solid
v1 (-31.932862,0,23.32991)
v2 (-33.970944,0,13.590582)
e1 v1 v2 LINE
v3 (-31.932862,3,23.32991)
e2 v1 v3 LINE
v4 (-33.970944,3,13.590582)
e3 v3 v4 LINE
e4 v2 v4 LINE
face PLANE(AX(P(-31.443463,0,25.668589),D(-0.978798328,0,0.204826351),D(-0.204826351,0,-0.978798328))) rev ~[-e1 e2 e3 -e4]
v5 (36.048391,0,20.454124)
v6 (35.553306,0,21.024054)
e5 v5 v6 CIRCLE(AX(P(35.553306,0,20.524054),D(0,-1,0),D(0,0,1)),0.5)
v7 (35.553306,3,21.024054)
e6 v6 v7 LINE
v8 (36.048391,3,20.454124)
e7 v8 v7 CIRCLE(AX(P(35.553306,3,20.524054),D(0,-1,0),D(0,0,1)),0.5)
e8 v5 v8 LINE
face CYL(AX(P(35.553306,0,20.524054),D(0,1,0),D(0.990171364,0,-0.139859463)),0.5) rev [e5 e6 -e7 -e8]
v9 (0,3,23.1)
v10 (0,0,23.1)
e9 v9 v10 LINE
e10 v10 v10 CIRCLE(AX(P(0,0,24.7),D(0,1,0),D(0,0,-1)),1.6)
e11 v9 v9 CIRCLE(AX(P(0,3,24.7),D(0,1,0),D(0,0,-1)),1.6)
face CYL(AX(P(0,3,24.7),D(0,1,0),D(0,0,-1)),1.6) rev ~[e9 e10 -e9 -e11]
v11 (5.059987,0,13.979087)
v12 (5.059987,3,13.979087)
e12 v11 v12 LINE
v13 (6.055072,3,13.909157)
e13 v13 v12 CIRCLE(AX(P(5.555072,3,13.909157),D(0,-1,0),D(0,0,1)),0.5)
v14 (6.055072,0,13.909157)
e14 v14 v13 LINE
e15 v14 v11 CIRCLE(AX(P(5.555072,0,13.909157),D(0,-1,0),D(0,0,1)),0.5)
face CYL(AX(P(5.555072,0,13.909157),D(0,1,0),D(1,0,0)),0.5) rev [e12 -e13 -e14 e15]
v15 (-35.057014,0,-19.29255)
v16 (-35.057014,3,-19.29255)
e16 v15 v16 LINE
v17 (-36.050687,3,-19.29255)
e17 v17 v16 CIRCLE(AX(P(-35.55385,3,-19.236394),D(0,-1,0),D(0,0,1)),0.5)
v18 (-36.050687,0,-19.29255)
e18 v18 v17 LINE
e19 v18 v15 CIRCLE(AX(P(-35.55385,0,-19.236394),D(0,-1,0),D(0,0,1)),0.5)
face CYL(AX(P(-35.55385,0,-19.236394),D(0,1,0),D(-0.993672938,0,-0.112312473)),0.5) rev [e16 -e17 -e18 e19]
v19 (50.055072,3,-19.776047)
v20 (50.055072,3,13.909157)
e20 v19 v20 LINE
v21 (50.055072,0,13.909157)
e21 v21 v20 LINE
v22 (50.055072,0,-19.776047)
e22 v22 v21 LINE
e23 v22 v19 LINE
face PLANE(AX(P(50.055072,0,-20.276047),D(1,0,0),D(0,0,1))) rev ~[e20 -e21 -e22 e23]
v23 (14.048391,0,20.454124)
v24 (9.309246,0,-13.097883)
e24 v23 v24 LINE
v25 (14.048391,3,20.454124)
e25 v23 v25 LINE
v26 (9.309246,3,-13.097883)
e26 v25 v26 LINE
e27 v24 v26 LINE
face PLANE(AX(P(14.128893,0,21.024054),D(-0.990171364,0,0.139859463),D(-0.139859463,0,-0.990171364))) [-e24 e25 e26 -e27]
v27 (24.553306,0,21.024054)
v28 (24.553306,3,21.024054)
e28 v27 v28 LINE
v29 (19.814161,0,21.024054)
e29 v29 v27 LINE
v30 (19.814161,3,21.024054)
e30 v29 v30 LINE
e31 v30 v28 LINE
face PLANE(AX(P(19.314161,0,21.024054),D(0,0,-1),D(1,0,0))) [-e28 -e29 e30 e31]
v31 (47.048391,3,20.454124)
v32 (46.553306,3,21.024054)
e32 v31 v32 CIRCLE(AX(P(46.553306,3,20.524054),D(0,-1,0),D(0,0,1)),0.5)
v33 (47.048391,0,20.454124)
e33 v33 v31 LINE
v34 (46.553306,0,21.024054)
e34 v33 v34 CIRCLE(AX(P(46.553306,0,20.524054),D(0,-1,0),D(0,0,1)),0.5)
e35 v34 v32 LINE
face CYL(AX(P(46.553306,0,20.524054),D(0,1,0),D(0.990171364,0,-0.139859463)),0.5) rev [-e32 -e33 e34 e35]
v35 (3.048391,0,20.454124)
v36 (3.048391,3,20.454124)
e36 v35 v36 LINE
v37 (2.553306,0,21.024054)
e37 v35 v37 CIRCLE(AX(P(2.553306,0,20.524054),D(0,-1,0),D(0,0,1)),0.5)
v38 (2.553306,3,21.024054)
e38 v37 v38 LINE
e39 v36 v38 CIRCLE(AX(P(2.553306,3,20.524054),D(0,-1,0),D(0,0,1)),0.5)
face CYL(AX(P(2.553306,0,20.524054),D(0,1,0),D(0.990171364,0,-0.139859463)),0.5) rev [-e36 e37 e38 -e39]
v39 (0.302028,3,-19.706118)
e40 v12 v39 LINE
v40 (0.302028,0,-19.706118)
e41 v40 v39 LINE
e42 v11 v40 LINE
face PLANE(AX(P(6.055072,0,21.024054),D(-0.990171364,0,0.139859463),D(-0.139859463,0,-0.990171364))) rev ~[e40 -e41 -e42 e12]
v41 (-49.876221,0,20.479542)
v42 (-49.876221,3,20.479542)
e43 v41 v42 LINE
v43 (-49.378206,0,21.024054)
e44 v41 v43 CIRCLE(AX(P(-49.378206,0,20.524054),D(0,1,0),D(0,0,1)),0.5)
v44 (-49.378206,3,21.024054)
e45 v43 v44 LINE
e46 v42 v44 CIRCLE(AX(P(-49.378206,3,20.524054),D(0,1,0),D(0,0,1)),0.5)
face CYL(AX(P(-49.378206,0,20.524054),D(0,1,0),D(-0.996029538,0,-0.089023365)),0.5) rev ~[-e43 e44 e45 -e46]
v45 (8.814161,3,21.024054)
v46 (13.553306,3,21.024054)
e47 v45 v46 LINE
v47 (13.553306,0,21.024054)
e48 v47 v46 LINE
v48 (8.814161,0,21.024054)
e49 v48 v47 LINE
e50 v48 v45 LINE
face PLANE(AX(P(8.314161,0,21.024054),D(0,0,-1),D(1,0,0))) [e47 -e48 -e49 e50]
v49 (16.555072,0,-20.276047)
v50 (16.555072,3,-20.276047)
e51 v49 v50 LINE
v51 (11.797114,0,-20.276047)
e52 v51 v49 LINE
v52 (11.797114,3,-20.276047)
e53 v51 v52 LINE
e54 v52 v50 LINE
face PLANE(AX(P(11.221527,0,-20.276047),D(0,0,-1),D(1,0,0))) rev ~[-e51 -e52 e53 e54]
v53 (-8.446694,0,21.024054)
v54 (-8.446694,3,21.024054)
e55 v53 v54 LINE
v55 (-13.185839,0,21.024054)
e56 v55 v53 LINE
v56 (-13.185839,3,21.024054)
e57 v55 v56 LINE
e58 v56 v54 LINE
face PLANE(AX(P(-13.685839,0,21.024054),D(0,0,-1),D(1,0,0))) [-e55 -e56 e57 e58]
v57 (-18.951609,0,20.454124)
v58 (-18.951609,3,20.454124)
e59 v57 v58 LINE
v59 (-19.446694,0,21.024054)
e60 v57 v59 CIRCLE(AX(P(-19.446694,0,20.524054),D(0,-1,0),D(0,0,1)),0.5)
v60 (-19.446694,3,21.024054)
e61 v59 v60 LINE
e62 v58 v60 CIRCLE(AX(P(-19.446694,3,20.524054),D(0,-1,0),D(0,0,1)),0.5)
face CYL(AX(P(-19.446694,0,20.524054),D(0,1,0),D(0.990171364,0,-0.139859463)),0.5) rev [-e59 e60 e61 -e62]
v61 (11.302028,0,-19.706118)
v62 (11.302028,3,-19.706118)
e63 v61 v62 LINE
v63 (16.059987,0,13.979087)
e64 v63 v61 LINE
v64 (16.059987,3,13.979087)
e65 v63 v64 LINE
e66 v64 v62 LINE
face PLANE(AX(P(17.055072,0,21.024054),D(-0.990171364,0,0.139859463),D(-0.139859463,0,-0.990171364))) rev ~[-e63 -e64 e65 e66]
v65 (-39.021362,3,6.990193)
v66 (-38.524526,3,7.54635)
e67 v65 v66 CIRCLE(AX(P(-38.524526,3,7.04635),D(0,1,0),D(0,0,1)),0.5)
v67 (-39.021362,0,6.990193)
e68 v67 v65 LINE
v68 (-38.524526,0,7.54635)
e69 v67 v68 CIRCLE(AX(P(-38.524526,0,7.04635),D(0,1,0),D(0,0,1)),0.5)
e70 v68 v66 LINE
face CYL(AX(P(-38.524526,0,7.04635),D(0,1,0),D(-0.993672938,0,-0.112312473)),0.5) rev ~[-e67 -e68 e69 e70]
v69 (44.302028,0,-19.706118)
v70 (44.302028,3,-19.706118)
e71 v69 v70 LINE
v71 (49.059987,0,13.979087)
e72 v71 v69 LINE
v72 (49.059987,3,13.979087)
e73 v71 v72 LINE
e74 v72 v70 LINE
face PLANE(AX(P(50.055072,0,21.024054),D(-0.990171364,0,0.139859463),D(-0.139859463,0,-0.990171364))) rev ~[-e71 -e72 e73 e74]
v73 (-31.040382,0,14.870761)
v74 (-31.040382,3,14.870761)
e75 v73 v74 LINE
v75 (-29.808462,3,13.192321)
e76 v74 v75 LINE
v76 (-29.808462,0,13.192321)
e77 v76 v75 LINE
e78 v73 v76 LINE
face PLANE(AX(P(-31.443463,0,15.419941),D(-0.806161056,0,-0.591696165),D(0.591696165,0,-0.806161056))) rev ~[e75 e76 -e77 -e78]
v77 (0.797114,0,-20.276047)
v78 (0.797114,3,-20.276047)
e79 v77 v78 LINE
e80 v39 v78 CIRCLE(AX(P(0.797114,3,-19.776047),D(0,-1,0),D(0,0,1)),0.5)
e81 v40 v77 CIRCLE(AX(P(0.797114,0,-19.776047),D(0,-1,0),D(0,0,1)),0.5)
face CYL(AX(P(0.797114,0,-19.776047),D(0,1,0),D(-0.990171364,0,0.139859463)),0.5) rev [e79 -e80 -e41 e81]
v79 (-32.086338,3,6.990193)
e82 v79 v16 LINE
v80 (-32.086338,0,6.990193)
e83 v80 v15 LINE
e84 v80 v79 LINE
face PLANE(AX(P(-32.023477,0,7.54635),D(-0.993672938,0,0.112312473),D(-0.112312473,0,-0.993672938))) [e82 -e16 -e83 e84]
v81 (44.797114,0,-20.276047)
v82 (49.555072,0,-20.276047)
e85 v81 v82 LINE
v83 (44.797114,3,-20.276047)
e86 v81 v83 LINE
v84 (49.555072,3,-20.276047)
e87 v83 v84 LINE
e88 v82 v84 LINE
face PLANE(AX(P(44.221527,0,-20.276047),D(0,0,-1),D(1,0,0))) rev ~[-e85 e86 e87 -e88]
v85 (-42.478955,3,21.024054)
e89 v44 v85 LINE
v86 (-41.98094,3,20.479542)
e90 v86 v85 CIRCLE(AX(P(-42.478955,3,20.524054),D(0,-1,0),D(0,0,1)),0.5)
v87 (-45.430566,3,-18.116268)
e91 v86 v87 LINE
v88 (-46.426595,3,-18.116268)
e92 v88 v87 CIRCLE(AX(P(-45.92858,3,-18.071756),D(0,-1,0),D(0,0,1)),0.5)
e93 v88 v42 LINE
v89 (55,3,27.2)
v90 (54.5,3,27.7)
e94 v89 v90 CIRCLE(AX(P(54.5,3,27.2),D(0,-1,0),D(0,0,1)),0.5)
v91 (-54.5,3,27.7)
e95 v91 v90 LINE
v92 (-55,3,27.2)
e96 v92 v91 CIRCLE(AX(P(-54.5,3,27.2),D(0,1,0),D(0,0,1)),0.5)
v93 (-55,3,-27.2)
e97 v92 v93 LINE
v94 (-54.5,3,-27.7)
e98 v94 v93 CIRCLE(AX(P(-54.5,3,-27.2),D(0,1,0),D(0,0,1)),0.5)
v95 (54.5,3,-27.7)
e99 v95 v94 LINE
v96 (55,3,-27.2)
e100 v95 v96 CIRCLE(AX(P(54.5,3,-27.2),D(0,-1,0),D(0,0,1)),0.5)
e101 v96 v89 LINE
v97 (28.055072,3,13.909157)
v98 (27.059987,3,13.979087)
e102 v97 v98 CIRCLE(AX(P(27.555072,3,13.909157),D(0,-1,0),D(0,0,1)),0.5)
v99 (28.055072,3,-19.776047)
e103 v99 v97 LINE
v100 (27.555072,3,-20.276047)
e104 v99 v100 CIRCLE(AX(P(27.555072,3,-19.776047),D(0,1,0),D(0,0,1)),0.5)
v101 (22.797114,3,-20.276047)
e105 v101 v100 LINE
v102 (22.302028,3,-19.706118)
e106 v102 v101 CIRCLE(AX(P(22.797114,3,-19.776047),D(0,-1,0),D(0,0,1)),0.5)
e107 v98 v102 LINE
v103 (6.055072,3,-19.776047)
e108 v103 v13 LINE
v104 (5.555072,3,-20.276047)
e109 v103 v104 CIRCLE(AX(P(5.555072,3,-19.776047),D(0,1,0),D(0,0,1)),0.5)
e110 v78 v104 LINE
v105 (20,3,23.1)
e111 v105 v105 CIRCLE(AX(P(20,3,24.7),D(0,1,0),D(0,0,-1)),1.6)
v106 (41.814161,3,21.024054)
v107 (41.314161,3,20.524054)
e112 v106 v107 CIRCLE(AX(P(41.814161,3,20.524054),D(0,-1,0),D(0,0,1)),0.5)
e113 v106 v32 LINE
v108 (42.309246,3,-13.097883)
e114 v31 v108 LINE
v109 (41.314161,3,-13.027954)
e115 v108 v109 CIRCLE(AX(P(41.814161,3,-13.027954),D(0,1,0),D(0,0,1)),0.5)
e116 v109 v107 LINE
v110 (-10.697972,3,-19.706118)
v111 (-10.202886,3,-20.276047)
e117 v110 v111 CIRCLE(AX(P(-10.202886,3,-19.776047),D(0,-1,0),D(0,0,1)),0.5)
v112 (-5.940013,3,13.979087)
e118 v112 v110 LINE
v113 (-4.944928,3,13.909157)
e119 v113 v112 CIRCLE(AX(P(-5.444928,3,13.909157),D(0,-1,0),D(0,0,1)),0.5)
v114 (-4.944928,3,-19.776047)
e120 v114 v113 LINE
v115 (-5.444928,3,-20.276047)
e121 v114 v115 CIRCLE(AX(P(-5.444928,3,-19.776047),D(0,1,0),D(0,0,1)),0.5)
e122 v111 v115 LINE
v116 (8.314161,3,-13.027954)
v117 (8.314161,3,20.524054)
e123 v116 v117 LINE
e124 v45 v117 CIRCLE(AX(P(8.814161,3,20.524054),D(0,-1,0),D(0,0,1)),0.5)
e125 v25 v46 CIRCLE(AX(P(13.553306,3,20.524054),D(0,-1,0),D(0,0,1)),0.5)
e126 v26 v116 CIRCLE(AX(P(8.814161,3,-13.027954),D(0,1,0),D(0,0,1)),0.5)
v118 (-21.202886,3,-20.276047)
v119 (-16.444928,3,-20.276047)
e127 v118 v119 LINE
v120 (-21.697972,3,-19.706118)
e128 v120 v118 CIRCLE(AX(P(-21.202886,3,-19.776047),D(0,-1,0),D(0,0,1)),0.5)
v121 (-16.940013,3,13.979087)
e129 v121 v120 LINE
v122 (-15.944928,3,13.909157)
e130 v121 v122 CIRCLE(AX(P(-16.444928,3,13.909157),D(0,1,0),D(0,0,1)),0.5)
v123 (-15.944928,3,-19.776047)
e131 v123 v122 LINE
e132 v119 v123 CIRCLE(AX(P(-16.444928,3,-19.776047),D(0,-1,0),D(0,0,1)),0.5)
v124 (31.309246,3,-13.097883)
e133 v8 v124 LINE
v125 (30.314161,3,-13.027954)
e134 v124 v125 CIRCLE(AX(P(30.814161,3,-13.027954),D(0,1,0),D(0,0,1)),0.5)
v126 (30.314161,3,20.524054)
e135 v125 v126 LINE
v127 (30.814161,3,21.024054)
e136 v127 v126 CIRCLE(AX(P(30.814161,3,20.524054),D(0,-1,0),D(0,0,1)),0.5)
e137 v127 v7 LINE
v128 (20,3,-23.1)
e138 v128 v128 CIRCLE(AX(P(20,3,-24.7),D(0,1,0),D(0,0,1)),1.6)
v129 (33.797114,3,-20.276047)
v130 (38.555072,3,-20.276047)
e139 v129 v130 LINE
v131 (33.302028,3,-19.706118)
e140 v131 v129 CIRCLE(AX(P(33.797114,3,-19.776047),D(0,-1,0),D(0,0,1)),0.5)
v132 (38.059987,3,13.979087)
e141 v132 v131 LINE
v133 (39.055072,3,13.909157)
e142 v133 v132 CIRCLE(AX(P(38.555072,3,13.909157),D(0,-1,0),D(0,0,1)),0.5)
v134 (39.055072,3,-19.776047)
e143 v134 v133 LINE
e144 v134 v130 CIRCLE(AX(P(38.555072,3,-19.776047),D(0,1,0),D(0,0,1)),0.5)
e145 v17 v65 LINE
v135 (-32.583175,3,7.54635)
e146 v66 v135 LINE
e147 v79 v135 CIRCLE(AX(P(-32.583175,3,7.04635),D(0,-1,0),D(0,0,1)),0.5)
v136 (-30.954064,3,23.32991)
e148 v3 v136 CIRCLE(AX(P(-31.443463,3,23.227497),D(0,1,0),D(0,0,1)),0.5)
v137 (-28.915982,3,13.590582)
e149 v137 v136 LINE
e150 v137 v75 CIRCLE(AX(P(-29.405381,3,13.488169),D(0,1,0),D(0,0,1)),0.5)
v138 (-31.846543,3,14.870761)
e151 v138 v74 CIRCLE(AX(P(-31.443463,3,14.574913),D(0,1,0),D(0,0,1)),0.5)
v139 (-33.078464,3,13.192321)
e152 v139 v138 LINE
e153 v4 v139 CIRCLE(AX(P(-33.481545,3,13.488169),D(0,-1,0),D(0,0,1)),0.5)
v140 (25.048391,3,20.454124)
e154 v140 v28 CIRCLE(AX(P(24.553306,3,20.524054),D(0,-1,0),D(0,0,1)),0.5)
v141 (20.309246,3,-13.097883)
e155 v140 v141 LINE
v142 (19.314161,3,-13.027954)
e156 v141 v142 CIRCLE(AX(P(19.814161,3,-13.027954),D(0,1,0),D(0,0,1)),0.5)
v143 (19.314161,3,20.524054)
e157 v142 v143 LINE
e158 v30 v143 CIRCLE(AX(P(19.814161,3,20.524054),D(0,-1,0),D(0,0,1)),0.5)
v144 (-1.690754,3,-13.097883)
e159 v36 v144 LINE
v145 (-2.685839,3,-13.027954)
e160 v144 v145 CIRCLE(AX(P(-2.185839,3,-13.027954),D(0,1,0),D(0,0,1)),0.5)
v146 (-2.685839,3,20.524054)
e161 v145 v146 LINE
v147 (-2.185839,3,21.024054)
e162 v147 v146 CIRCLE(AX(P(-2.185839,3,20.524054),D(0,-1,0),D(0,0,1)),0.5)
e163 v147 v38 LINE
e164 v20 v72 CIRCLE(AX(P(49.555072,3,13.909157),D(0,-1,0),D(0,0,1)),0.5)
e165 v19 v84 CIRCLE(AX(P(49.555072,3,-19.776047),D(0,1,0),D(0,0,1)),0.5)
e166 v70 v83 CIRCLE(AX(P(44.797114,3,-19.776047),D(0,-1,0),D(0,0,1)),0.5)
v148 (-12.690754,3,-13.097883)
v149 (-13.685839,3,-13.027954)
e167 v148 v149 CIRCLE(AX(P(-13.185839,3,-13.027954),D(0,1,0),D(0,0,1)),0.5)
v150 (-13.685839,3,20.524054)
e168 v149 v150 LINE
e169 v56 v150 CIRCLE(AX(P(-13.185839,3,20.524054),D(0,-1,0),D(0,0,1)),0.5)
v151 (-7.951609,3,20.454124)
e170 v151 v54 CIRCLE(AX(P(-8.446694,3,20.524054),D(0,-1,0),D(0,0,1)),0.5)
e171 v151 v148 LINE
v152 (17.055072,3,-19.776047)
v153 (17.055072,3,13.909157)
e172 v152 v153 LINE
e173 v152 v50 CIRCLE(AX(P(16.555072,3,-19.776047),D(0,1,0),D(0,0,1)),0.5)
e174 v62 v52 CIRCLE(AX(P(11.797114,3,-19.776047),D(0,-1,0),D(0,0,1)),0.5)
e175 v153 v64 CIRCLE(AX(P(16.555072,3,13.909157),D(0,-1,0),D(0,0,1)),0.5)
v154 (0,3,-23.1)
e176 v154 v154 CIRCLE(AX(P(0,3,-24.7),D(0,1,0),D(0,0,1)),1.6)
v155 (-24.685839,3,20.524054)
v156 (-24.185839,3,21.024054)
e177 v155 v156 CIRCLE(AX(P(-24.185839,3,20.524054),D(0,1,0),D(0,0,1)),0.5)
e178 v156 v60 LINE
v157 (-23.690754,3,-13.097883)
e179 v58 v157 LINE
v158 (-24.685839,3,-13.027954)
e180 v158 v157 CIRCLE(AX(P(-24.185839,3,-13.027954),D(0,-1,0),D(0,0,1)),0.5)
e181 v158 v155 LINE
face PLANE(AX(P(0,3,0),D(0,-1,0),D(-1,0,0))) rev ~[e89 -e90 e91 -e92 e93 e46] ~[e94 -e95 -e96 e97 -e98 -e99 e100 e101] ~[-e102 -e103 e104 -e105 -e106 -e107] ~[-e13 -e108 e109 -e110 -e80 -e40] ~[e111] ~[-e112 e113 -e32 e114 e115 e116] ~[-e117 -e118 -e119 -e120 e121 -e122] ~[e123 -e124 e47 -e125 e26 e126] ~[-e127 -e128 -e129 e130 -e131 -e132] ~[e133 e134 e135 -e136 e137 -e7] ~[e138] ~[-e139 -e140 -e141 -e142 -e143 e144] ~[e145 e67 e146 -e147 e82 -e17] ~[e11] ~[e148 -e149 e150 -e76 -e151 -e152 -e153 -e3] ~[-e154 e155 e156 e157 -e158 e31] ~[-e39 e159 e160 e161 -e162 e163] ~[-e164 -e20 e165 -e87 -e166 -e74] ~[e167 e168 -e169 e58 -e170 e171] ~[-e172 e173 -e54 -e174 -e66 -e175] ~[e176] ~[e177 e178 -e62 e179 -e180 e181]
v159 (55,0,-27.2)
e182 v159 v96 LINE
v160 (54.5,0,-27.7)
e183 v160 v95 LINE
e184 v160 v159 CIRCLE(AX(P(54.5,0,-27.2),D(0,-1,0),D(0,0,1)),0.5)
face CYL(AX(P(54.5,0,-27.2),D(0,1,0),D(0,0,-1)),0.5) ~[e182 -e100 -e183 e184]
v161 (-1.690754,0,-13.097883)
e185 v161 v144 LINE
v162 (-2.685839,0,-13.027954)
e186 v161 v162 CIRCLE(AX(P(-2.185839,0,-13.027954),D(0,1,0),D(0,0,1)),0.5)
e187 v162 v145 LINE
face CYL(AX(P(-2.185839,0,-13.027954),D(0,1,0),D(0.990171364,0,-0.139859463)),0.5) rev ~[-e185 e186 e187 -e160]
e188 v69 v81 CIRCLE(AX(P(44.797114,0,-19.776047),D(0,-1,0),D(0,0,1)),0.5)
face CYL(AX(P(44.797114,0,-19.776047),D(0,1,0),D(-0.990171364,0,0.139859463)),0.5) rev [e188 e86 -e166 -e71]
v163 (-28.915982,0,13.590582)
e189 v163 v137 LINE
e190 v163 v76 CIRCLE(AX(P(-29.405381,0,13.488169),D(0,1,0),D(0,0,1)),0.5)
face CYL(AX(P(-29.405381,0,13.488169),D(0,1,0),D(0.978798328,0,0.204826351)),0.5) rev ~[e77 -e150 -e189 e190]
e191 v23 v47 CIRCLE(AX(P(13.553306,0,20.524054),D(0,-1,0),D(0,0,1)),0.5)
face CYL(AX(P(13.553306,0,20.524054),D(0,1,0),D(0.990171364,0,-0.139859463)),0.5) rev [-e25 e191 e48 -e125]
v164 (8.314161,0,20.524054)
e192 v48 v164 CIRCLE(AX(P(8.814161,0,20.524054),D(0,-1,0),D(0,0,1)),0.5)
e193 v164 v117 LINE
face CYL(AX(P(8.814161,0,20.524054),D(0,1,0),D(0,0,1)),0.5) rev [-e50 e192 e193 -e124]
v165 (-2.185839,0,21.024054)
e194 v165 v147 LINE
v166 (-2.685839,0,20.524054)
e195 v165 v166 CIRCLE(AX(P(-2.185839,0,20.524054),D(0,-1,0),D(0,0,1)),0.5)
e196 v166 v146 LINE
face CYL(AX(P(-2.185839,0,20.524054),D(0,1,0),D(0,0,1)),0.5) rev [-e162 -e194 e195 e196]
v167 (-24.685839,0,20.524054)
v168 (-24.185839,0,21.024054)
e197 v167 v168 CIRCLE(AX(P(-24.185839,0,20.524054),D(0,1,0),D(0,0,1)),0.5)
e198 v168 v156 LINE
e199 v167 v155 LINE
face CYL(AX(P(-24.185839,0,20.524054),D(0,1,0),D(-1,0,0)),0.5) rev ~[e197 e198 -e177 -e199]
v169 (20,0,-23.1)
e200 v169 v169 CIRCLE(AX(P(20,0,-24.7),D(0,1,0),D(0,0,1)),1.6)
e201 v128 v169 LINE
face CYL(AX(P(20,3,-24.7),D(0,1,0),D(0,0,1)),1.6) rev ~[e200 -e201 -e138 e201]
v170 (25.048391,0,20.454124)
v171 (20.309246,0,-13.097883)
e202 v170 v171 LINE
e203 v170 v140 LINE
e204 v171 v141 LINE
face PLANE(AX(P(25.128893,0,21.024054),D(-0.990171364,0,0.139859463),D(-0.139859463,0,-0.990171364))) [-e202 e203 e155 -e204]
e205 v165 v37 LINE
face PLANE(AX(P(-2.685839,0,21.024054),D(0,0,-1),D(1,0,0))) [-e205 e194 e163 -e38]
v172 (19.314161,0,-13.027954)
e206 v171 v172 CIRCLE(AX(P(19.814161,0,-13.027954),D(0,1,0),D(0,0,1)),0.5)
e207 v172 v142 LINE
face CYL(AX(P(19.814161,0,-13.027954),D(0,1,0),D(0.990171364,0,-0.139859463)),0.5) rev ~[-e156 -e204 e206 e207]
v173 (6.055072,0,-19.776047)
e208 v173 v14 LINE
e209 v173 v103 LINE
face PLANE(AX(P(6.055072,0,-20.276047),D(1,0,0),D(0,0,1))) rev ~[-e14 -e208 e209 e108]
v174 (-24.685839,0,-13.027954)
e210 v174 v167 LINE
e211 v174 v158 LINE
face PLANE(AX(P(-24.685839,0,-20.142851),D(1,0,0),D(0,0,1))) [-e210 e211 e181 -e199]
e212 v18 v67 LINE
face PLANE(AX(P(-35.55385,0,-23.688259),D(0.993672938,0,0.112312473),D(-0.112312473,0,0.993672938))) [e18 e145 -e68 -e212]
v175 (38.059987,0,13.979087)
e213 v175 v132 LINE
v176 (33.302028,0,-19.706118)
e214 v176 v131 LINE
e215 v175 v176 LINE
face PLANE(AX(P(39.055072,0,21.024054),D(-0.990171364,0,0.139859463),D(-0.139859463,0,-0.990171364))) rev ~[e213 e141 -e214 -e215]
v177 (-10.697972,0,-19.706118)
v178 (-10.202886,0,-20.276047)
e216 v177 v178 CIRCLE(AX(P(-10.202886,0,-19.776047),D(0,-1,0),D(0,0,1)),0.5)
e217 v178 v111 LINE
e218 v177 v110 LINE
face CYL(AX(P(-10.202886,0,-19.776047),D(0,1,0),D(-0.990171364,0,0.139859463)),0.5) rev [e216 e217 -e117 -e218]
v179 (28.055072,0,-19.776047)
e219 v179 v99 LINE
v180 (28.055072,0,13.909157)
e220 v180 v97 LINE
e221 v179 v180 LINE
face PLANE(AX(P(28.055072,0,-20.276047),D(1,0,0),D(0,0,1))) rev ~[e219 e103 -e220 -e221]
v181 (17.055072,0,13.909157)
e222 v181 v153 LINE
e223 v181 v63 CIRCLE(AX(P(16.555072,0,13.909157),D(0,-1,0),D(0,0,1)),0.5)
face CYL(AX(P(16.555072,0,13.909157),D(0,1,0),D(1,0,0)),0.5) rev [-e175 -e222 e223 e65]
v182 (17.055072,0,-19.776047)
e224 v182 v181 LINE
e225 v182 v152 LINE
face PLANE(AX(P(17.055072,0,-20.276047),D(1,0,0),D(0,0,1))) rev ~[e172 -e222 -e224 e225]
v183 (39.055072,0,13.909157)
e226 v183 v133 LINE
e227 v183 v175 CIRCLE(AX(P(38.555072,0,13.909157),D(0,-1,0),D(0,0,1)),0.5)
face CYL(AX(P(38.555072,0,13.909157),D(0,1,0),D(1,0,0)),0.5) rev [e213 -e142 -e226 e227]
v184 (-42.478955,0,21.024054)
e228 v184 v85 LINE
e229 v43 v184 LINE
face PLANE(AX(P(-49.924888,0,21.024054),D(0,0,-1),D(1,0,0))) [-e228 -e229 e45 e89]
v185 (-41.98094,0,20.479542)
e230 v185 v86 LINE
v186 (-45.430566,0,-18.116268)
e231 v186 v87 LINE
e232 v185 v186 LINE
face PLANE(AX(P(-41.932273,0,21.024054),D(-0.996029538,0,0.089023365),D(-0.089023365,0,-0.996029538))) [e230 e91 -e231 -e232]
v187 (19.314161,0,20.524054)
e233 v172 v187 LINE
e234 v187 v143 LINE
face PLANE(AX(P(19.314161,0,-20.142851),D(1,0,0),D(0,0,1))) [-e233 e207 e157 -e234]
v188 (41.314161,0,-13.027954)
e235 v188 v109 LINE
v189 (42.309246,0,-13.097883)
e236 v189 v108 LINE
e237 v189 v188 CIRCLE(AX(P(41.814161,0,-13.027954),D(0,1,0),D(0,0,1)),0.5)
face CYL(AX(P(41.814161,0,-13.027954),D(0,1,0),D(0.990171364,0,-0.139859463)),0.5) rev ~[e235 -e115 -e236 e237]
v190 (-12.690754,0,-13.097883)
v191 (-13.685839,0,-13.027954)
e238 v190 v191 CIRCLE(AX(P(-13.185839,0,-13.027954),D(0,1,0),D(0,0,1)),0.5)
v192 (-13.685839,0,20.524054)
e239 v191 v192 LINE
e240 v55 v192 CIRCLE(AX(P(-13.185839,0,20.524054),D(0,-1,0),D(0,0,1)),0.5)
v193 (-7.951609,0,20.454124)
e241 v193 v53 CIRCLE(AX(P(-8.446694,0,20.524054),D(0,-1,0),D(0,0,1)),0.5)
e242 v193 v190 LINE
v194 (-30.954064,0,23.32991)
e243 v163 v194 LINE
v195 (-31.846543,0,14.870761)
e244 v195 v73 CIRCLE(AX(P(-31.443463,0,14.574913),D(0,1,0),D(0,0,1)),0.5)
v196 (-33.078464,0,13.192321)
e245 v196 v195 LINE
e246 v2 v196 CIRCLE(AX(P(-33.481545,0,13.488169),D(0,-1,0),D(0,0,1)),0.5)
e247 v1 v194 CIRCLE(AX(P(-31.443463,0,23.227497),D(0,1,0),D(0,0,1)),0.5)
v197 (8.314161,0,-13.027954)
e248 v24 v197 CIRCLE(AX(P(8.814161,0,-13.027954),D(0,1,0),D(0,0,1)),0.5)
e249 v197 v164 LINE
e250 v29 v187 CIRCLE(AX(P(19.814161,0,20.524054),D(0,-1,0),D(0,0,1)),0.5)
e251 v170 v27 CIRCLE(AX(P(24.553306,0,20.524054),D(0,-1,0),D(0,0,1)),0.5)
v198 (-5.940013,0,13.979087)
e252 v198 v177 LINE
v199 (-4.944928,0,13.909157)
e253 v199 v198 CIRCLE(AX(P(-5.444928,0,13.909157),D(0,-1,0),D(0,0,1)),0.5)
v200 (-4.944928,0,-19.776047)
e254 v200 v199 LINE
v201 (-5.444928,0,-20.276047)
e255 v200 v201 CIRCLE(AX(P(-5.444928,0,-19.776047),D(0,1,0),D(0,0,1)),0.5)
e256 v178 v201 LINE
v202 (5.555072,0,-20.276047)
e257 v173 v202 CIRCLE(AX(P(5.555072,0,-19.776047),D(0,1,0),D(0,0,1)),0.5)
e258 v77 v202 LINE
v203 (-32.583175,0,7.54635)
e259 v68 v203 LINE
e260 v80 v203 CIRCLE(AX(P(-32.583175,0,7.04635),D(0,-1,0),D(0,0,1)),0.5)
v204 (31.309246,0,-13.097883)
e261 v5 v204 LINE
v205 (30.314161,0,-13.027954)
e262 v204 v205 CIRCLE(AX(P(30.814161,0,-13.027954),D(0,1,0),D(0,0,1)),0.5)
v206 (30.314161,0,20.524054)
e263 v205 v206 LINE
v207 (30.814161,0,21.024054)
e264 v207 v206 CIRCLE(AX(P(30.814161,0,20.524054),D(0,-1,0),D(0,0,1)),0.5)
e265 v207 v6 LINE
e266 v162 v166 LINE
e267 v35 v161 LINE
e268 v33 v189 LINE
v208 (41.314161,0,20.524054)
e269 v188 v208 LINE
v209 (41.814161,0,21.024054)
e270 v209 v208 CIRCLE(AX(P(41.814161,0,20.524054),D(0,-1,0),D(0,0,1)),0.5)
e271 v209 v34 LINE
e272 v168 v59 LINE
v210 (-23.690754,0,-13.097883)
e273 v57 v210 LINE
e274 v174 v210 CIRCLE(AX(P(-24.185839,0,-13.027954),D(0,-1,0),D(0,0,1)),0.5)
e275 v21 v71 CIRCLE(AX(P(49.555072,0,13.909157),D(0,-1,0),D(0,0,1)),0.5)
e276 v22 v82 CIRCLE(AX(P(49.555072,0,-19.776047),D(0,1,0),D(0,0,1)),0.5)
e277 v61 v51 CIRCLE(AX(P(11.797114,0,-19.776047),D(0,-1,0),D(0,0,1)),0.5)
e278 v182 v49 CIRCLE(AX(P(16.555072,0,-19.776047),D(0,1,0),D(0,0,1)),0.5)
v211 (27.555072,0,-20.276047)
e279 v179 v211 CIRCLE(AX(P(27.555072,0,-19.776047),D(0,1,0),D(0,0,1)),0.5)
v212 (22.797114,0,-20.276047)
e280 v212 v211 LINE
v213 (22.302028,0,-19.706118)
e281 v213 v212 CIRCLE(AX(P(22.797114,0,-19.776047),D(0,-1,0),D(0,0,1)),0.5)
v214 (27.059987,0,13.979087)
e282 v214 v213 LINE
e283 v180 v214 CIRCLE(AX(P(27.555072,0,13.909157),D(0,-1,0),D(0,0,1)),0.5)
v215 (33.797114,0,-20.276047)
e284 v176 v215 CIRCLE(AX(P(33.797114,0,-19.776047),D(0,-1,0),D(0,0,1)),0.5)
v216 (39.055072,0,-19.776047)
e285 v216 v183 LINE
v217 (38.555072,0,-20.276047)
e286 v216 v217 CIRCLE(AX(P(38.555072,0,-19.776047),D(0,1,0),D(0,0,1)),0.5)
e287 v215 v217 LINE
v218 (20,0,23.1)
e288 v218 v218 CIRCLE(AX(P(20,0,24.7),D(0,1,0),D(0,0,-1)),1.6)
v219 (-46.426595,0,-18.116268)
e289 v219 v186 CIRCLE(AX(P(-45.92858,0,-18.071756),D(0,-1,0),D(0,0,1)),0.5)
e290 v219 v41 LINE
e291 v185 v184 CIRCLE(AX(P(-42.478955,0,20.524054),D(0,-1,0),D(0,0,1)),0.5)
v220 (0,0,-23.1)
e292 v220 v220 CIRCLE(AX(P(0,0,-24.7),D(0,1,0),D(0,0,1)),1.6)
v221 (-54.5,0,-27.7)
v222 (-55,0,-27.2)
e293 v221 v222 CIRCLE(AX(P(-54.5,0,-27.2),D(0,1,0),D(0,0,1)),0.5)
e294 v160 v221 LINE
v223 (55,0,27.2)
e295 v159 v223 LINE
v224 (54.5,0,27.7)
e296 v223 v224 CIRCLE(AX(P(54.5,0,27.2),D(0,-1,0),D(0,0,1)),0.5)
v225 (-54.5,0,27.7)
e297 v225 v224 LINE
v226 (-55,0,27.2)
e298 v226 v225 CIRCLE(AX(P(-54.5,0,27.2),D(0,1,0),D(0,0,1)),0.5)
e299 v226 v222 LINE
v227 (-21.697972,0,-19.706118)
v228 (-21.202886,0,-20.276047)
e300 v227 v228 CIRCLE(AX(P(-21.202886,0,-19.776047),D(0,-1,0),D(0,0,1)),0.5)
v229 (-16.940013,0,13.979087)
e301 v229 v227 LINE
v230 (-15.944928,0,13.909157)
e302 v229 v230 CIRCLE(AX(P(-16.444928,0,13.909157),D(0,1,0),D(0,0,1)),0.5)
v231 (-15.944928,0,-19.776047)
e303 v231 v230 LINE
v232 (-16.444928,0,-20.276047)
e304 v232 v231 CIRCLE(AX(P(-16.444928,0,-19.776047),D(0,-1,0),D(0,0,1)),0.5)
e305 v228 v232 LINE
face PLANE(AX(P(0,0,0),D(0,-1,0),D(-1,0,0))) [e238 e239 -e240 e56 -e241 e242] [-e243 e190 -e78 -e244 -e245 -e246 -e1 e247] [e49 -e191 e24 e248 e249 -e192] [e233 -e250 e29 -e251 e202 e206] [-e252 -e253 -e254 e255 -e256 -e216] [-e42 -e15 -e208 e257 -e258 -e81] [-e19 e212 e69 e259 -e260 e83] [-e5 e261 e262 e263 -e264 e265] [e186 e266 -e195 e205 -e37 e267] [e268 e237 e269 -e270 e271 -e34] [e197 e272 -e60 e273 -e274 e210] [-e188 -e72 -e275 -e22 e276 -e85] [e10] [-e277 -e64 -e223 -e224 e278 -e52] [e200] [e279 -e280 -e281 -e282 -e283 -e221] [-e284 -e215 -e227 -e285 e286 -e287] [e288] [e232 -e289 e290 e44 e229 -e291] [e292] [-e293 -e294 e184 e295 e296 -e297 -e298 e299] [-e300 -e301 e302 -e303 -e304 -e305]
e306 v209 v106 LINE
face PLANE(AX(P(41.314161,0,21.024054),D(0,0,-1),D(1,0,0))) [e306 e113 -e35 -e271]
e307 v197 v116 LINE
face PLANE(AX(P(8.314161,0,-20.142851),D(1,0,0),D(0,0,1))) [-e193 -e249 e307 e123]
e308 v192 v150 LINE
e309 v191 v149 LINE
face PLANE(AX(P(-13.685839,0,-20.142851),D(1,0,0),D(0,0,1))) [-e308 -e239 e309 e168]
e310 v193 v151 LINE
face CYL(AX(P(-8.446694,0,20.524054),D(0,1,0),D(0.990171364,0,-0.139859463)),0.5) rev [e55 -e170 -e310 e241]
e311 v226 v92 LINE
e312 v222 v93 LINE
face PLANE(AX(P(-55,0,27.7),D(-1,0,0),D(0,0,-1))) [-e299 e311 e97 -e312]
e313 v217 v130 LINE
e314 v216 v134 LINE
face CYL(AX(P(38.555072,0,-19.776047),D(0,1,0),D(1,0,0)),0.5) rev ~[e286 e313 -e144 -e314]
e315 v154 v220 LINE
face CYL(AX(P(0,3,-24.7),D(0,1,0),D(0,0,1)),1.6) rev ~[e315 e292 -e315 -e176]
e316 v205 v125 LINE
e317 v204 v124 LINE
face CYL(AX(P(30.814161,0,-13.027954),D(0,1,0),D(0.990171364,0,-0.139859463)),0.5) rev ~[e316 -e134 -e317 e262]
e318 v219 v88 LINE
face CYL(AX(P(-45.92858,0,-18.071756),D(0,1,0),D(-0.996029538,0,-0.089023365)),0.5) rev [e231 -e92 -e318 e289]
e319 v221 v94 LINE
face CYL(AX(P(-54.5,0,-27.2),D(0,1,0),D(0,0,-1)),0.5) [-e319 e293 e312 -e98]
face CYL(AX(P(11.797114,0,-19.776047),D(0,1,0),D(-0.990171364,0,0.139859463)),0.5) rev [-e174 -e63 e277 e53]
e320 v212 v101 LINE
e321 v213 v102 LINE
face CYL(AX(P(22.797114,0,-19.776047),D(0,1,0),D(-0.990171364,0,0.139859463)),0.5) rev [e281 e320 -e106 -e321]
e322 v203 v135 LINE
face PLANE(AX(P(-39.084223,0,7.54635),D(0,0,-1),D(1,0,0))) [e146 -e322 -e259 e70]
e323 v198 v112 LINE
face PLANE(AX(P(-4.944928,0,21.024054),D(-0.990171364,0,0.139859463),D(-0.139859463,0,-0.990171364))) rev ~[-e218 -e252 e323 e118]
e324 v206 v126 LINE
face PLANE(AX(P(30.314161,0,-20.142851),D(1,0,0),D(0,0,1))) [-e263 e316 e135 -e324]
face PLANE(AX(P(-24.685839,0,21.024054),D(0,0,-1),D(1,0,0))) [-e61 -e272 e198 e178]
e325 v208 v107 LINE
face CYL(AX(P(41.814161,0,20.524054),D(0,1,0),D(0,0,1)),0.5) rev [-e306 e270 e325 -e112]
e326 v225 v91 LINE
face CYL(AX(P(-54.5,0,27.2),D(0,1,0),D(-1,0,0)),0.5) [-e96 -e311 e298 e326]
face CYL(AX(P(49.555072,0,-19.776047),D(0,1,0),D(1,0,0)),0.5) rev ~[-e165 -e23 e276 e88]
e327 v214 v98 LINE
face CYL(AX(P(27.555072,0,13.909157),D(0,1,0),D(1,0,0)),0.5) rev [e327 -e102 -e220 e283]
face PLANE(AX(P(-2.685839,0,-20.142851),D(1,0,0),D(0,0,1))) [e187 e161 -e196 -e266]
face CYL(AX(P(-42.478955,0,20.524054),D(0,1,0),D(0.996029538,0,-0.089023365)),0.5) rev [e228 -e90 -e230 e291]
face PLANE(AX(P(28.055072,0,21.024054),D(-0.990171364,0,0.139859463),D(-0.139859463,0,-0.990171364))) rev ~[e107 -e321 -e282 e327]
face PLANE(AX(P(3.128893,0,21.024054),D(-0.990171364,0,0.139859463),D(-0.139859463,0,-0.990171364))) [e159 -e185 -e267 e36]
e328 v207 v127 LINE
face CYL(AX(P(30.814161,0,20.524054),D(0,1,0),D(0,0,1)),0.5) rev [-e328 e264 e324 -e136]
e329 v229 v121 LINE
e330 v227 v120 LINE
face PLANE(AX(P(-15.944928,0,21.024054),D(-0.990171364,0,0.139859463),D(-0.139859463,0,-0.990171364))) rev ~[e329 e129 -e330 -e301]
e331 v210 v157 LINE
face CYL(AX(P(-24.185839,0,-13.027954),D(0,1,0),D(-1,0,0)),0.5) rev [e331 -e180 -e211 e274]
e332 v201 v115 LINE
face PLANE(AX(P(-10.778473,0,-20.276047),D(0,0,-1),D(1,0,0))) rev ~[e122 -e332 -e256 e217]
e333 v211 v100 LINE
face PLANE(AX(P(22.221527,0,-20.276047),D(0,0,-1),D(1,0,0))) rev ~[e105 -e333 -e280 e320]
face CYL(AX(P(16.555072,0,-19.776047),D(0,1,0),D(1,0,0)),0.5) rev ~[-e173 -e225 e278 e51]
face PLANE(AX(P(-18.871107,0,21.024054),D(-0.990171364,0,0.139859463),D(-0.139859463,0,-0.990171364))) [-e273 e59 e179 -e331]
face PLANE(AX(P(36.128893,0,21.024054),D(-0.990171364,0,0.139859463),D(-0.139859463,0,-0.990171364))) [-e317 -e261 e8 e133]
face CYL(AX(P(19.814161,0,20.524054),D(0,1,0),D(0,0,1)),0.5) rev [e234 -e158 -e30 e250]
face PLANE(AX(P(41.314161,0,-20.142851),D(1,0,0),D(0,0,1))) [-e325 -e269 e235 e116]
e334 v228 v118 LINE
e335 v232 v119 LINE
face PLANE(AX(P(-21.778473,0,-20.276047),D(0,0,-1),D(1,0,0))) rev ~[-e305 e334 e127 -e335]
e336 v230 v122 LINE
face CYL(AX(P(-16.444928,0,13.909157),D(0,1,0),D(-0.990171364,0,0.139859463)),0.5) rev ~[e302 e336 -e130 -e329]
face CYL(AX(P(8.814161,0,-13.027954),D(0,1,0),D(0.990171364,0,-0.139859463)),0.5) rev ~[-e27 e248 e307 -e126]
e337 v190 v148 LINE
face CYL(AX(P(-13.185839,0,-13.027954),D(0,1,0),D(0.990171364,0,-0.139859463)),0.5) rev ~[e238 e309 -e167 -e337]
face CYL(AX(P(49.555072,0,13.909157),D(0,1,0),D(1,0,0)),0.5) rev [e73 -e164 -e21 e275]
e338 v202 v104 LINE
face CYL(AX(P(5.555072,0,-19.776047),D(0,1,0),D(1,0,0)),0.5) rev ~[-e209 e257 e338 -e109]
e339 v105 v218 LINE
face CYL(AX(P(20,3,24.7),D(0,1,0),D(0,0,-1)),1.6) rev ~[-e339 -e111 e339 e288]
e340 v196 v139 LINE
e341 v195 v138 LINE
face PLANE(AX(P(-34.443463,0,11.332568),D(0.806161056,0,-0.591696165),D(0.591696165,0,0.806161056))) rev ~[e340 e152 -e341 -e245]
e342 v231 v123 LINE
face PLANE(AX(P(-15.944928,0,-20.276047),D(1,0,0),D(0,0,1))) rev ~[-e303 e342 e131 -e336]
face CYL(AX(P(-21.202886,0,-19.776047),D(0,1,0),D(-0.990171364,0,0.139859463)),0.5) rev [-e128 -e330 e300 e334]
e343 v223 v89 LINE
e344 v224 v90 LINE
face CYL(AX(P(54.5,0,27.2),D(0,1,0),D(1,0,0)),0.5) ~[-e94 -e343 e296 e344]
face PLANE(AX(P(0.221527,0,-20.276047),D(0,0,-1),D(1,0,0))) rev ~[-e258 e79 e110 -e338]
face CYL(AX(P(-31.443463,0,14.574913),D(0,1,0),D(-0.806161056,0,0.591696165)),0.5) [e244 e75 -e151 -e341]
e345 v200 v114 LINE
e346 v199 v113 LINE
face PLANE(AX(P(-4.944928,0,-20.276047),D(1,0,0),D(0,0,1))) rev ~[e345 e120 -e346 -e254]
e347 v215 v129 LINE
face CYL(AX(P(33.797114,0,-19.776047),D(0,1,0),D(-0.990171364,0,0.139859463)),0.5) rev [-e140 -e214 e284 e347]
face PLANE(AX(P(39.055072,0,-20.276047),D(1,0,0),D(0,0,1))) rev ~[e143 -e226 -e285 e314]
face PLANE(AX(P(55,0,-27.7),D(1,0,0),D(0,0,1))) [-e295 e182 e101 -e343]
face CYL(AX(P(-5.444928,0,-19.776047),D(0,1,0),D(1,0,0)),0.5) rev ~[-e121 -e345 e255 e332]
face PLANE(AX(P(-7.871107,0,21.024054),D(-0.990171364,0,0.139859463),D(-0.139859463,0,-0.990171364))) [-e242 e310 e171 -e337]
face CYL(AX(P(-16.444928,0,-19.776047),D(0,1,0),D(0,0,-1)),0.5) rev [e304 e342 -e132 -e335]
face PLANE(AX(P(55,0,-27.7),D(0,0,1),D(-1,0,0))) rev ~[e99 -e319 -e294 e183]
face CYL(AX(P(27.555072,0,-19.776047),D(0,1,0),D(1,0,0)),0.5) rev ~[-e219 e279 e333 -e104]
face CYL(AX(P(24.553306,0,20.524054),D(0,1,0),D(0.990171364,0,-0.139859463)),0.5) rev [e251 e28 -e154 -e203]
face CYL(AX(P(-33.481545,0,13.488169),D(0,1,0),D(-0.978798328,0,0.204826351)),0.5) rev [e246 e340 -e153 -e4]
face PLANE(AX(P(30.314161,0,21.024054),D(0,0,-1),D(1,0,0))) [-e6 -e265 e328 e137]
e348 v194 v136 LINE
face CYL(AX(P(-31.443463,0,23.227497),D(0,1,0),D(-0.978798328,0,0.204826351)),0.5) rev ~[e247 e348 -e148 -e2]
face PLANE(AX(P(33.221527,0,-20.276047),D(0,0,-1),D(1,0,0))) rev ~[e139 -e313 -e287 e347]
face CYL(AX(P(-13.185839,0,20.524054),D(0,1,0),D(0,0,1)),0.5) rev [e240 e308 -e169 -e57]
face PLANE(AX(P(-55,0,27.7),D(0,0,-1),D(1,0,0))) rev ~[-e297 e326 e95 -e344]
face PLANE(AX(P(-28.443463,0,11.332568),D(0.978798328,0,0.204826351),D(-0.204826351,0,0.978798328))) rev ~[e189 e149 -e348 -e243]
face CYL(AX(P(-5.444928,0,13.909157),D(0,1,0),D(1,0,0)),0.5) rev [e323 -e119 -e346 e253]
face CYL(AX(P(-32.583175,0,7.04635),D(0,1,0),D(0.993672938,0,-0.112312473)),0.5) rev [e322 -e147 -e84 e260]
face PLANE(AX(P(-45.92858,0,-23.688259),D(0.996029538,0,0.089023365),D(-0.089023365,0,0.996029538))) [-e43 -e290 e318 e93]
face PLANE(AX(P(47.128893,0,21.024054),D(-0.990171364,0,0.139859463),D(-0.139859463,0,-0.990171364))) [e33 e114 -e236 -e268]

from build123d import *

# Parameters (mm, degrees)
EXTRUDE_1_DEPTH     = 3
SKETCH_2_R          = 1.6
CUT_EXTRUDE_1_DEPTH = 62.654602424
CUT_EXTRUDE_2_DEPTH = 62.654602424
CUT_EXTRUDE_3_DEPTH = 62.654602424
FILLET_2_R          = 0.5


with BuildPart() as part:
    # 草图1 → 凸台-拉伸1 (new body)
    with BuildSketch(Plane(origin=(0, 0, 0), x_dir=(1, 0, 0), z_dir=(0, 1, 0))):
        Polygon((-55, 27.7), (-43.5, 27.7), (-33.5, 27.7), (33.5, 27.7), (43.5, 27.7), (55, 27.7), (55, -27.7), (43.5, -27.7), (33.5, -27.7), (-33.5, -27.7), (-43.5, -27.7), (-55, -27.7), align=None)
    extrude(amount=EXTRUDE_1_DEPTH)

    # 草图2 → 切除-拉伸1 (cut, through all)
    with BuildSketch(Plane(origin=(0, 3, 0), x_dir=(1, 0, 0), z_dir=(0, 1, 0))):
        with Locations(Location((0, 24.7, 0), (0, 0, 270))):
            Circle(SKETCH_2_R)
        with Locations(Location((20, 24.7, 0), (0, 0, 270))):
            Circle(SKETCH_2_R)
        with Locations(Location((20, -24.7, 0), (0, 0, 90))):
            Circle(SKETCH_2_R)
        with Locations(Location((0, -24.7, 0), (0, 0, 90))):
            Circle(SKETCH_2_R)
    extrude(amount=-CUT_EXTRUDE_1_DEPTH, mode=Mode.SUBTRACT)

    # 草图4 → 切除-拉伸2 (cut, through all)
    with BuildSketch(Plane.XZ):
        Polygon((-31.443462795, 25.668589291), (-34.443462795, 11.332567733), (-31.443462795, 15.419941133), (-28.443462795, 11.332567733), align=None)
    extrude(amount=-CUT_EXTRUDE_2_DEPTH, mode=Mode.SUBTRACT)

    # 草图5 → 切除-拉伸3 (cut, through all)
    with BuildSketch(Plane.XZ):
        Polygon((-49.924888237, 21.024053863), (-41.932272719, 21.024053863), (-45.928580478, -23.688259036), align=None)
        Polygon((-39.084223489, 7.546349568), (-32.023477439, 7.546349568), (-35.553850464, -23.688259036), align=None)
        Polygon((-24.685839388, 21.024053863), (-18.871107346, 21.024053863), (-24.685839388, -20.142850627), align=None)
        Polygon((-15.944927595, 21.024053863), (-21.778473367, -20.276047316), (-15.944927595, -20.276047316), align=None)
        Polygon((-13.685839388, -20.142850627), (-13.685839388, 21.024053863), (-7.871107346, 21.024053863), align=None)
        Polygon((-4.944927595, -20.276047316), (-4.944927595, 21.024053863), (-10.778473367, -20.276047316), align=None)
        Polygon((-2.685839388, -20.142850627), (-2.685839388, 21.024053863), (3.128892654, 21.024053863), align=None)
        Polygon((6.055072405, -20.276047316), (6.055072405, 21.024053863), (0.221526633, -20.276047316), align=None)
        Polygon((8.314160612, -20.142850627), (8.314160612, 21.024053863), (14.128892654, 21.024053863), align=None)
        Polygon((17.055072405, -20.276047316), (17.055072405, 21.024053863), (11.221526633, -20.276047316), align=None)
        Polygon((19.314160612, -20.142850627), (19.314160612, 21.024053863), (25.128892654, 21.024053863), align=None)
        Polygon((28.055072405, -20.276047316), (28.055072405, 21.024053863), (22.221526633, -20.276047316), align=None)
        Polygon((30.314160612, -20.142850627), (30.314160612, 21.024053863), (36.128892654, 21.024053863), align=None)
        Polygon((39.055072405, -20.276047316), (39.055072405, 21.024053863), (33.221526633, -20.276047316), align=None)
        Polygon((41.314160612, -20.142850627), (41.314160612, 21.024053863), (47.128892654, 21.024053863), align=None)
        Polygon((50.055072405, -20.276047316), (50.055072405, 21.024053863), (44.221526633, -20.276047316), align=None)
    extrude(amount=-CUT_EXTRUDE_3_DEPTH, mode=Mode.SUBTRACT)

    # 圆角2
    fillet_2_edges = [part.edges().sort_by_distance(p)[0] for p in [
        (-45.928580478, 1.5, -23.688259036),
        (-49.924888237, 1.5, 21.024053863),
        (-41.932272719, 1.5, 21.024053863),
        (30.314160612, 1.5, 21.024053863),
        (36.128892654, 1.5, 21.024053863),
        (30.314160612, 1.5, -20.142850627),
        (22.221526633, 1.5, -20.276047316),
        (28.055072405, 1.5, 21.024053863),
        (28.055072405, 1.5, -20.276047316),
        (19.314160612, 1.5, 21.024053863),
        (25.128892654, 1.5, 21.024053863),
        (19.314160612, 1.5, -20.142850627),
        (11.221526633, 1.5, -20.276047316),
        (17.055072405, 1.5, 21.024053863),
        (17.055072405, 1.5, -20.276047316),
        (44.221526633, 1.5, -20.276047316),
        (50.055072405, 1.5, 21.024053863),
        (50.055072405, 1.5, -20.276047316),
        (41.314160612, 1.5, 21.024053863),
        (47.128892654, 1.5, 21.024053863),
        (41.314160612, 1.5, -20.142850627),
        (33.221526633, 1.5, -20.276047316),
        (39.055072405, 1.5, 21.024053863),
        (39.055072405, 1.5, -20.276047316),
        (-13.685839388, 1.5, 21.024053863),
        (-7.871107346, 1.5, 21.024053863),
        (-13.685839388, 1.5, -20.142850627),
        (-15.944927595, 1.5, 21.024053863),
        (-15.944927595, 1.5, -20.276047316),
        (-21.778473367, 1.5, -20.276047316),
        (-24.685839388, 1.5, -20.142850627),
        (-24.685839388, 1.5, 21.024053863),
        (-18.871107346, 1.5, 21.024053863),
        (-35.553850464, 1.5, -23.688259036),
        (-39.084223489, 1.5, 7.546349568),
        (-32.023477439, 1.5, 7.546349568),
        (8.314160612, 1.5, 21.024053863),
        (14.128892654, 1.5, 21.024053863),
        (8.314160612, 1.5, -20.142850627),
        (0.221526633, 1.5, -20.276047316),
        (6.055072405, 1.5, 21.024053863),
        (6.055072405, 1.5, -20.276047316),
        (-2.685839388, 1.5, 21.024053863),
        (3.128892654, 1.5, 21.024053863),
        (-2.685839388, 1.5, -20.142850627),
        (-10.778473367, 1.5, -20.276047316),
        (-4.944927595, 1.5, 21.024053863),
        (-4.944927595, 1.5, -20.276047316),
        (-55, 1.5, 27.7),
        (-55, 1.5, -27.7),
        (55, 1.5, -27.7),
        (55, 1.5, 27.7),
        (-31.443462795, 1.5, 25.668589291),
        (-28.443462795, 1.5, 11.332567733),
        (-31.443462795, 1.5, 15.419941133),
        (-34.443462795, 1.5, 11.332567733),
    ]]
    fillet(fillet_2_edges, radius=FILLET_2_R)


solid = part.part
